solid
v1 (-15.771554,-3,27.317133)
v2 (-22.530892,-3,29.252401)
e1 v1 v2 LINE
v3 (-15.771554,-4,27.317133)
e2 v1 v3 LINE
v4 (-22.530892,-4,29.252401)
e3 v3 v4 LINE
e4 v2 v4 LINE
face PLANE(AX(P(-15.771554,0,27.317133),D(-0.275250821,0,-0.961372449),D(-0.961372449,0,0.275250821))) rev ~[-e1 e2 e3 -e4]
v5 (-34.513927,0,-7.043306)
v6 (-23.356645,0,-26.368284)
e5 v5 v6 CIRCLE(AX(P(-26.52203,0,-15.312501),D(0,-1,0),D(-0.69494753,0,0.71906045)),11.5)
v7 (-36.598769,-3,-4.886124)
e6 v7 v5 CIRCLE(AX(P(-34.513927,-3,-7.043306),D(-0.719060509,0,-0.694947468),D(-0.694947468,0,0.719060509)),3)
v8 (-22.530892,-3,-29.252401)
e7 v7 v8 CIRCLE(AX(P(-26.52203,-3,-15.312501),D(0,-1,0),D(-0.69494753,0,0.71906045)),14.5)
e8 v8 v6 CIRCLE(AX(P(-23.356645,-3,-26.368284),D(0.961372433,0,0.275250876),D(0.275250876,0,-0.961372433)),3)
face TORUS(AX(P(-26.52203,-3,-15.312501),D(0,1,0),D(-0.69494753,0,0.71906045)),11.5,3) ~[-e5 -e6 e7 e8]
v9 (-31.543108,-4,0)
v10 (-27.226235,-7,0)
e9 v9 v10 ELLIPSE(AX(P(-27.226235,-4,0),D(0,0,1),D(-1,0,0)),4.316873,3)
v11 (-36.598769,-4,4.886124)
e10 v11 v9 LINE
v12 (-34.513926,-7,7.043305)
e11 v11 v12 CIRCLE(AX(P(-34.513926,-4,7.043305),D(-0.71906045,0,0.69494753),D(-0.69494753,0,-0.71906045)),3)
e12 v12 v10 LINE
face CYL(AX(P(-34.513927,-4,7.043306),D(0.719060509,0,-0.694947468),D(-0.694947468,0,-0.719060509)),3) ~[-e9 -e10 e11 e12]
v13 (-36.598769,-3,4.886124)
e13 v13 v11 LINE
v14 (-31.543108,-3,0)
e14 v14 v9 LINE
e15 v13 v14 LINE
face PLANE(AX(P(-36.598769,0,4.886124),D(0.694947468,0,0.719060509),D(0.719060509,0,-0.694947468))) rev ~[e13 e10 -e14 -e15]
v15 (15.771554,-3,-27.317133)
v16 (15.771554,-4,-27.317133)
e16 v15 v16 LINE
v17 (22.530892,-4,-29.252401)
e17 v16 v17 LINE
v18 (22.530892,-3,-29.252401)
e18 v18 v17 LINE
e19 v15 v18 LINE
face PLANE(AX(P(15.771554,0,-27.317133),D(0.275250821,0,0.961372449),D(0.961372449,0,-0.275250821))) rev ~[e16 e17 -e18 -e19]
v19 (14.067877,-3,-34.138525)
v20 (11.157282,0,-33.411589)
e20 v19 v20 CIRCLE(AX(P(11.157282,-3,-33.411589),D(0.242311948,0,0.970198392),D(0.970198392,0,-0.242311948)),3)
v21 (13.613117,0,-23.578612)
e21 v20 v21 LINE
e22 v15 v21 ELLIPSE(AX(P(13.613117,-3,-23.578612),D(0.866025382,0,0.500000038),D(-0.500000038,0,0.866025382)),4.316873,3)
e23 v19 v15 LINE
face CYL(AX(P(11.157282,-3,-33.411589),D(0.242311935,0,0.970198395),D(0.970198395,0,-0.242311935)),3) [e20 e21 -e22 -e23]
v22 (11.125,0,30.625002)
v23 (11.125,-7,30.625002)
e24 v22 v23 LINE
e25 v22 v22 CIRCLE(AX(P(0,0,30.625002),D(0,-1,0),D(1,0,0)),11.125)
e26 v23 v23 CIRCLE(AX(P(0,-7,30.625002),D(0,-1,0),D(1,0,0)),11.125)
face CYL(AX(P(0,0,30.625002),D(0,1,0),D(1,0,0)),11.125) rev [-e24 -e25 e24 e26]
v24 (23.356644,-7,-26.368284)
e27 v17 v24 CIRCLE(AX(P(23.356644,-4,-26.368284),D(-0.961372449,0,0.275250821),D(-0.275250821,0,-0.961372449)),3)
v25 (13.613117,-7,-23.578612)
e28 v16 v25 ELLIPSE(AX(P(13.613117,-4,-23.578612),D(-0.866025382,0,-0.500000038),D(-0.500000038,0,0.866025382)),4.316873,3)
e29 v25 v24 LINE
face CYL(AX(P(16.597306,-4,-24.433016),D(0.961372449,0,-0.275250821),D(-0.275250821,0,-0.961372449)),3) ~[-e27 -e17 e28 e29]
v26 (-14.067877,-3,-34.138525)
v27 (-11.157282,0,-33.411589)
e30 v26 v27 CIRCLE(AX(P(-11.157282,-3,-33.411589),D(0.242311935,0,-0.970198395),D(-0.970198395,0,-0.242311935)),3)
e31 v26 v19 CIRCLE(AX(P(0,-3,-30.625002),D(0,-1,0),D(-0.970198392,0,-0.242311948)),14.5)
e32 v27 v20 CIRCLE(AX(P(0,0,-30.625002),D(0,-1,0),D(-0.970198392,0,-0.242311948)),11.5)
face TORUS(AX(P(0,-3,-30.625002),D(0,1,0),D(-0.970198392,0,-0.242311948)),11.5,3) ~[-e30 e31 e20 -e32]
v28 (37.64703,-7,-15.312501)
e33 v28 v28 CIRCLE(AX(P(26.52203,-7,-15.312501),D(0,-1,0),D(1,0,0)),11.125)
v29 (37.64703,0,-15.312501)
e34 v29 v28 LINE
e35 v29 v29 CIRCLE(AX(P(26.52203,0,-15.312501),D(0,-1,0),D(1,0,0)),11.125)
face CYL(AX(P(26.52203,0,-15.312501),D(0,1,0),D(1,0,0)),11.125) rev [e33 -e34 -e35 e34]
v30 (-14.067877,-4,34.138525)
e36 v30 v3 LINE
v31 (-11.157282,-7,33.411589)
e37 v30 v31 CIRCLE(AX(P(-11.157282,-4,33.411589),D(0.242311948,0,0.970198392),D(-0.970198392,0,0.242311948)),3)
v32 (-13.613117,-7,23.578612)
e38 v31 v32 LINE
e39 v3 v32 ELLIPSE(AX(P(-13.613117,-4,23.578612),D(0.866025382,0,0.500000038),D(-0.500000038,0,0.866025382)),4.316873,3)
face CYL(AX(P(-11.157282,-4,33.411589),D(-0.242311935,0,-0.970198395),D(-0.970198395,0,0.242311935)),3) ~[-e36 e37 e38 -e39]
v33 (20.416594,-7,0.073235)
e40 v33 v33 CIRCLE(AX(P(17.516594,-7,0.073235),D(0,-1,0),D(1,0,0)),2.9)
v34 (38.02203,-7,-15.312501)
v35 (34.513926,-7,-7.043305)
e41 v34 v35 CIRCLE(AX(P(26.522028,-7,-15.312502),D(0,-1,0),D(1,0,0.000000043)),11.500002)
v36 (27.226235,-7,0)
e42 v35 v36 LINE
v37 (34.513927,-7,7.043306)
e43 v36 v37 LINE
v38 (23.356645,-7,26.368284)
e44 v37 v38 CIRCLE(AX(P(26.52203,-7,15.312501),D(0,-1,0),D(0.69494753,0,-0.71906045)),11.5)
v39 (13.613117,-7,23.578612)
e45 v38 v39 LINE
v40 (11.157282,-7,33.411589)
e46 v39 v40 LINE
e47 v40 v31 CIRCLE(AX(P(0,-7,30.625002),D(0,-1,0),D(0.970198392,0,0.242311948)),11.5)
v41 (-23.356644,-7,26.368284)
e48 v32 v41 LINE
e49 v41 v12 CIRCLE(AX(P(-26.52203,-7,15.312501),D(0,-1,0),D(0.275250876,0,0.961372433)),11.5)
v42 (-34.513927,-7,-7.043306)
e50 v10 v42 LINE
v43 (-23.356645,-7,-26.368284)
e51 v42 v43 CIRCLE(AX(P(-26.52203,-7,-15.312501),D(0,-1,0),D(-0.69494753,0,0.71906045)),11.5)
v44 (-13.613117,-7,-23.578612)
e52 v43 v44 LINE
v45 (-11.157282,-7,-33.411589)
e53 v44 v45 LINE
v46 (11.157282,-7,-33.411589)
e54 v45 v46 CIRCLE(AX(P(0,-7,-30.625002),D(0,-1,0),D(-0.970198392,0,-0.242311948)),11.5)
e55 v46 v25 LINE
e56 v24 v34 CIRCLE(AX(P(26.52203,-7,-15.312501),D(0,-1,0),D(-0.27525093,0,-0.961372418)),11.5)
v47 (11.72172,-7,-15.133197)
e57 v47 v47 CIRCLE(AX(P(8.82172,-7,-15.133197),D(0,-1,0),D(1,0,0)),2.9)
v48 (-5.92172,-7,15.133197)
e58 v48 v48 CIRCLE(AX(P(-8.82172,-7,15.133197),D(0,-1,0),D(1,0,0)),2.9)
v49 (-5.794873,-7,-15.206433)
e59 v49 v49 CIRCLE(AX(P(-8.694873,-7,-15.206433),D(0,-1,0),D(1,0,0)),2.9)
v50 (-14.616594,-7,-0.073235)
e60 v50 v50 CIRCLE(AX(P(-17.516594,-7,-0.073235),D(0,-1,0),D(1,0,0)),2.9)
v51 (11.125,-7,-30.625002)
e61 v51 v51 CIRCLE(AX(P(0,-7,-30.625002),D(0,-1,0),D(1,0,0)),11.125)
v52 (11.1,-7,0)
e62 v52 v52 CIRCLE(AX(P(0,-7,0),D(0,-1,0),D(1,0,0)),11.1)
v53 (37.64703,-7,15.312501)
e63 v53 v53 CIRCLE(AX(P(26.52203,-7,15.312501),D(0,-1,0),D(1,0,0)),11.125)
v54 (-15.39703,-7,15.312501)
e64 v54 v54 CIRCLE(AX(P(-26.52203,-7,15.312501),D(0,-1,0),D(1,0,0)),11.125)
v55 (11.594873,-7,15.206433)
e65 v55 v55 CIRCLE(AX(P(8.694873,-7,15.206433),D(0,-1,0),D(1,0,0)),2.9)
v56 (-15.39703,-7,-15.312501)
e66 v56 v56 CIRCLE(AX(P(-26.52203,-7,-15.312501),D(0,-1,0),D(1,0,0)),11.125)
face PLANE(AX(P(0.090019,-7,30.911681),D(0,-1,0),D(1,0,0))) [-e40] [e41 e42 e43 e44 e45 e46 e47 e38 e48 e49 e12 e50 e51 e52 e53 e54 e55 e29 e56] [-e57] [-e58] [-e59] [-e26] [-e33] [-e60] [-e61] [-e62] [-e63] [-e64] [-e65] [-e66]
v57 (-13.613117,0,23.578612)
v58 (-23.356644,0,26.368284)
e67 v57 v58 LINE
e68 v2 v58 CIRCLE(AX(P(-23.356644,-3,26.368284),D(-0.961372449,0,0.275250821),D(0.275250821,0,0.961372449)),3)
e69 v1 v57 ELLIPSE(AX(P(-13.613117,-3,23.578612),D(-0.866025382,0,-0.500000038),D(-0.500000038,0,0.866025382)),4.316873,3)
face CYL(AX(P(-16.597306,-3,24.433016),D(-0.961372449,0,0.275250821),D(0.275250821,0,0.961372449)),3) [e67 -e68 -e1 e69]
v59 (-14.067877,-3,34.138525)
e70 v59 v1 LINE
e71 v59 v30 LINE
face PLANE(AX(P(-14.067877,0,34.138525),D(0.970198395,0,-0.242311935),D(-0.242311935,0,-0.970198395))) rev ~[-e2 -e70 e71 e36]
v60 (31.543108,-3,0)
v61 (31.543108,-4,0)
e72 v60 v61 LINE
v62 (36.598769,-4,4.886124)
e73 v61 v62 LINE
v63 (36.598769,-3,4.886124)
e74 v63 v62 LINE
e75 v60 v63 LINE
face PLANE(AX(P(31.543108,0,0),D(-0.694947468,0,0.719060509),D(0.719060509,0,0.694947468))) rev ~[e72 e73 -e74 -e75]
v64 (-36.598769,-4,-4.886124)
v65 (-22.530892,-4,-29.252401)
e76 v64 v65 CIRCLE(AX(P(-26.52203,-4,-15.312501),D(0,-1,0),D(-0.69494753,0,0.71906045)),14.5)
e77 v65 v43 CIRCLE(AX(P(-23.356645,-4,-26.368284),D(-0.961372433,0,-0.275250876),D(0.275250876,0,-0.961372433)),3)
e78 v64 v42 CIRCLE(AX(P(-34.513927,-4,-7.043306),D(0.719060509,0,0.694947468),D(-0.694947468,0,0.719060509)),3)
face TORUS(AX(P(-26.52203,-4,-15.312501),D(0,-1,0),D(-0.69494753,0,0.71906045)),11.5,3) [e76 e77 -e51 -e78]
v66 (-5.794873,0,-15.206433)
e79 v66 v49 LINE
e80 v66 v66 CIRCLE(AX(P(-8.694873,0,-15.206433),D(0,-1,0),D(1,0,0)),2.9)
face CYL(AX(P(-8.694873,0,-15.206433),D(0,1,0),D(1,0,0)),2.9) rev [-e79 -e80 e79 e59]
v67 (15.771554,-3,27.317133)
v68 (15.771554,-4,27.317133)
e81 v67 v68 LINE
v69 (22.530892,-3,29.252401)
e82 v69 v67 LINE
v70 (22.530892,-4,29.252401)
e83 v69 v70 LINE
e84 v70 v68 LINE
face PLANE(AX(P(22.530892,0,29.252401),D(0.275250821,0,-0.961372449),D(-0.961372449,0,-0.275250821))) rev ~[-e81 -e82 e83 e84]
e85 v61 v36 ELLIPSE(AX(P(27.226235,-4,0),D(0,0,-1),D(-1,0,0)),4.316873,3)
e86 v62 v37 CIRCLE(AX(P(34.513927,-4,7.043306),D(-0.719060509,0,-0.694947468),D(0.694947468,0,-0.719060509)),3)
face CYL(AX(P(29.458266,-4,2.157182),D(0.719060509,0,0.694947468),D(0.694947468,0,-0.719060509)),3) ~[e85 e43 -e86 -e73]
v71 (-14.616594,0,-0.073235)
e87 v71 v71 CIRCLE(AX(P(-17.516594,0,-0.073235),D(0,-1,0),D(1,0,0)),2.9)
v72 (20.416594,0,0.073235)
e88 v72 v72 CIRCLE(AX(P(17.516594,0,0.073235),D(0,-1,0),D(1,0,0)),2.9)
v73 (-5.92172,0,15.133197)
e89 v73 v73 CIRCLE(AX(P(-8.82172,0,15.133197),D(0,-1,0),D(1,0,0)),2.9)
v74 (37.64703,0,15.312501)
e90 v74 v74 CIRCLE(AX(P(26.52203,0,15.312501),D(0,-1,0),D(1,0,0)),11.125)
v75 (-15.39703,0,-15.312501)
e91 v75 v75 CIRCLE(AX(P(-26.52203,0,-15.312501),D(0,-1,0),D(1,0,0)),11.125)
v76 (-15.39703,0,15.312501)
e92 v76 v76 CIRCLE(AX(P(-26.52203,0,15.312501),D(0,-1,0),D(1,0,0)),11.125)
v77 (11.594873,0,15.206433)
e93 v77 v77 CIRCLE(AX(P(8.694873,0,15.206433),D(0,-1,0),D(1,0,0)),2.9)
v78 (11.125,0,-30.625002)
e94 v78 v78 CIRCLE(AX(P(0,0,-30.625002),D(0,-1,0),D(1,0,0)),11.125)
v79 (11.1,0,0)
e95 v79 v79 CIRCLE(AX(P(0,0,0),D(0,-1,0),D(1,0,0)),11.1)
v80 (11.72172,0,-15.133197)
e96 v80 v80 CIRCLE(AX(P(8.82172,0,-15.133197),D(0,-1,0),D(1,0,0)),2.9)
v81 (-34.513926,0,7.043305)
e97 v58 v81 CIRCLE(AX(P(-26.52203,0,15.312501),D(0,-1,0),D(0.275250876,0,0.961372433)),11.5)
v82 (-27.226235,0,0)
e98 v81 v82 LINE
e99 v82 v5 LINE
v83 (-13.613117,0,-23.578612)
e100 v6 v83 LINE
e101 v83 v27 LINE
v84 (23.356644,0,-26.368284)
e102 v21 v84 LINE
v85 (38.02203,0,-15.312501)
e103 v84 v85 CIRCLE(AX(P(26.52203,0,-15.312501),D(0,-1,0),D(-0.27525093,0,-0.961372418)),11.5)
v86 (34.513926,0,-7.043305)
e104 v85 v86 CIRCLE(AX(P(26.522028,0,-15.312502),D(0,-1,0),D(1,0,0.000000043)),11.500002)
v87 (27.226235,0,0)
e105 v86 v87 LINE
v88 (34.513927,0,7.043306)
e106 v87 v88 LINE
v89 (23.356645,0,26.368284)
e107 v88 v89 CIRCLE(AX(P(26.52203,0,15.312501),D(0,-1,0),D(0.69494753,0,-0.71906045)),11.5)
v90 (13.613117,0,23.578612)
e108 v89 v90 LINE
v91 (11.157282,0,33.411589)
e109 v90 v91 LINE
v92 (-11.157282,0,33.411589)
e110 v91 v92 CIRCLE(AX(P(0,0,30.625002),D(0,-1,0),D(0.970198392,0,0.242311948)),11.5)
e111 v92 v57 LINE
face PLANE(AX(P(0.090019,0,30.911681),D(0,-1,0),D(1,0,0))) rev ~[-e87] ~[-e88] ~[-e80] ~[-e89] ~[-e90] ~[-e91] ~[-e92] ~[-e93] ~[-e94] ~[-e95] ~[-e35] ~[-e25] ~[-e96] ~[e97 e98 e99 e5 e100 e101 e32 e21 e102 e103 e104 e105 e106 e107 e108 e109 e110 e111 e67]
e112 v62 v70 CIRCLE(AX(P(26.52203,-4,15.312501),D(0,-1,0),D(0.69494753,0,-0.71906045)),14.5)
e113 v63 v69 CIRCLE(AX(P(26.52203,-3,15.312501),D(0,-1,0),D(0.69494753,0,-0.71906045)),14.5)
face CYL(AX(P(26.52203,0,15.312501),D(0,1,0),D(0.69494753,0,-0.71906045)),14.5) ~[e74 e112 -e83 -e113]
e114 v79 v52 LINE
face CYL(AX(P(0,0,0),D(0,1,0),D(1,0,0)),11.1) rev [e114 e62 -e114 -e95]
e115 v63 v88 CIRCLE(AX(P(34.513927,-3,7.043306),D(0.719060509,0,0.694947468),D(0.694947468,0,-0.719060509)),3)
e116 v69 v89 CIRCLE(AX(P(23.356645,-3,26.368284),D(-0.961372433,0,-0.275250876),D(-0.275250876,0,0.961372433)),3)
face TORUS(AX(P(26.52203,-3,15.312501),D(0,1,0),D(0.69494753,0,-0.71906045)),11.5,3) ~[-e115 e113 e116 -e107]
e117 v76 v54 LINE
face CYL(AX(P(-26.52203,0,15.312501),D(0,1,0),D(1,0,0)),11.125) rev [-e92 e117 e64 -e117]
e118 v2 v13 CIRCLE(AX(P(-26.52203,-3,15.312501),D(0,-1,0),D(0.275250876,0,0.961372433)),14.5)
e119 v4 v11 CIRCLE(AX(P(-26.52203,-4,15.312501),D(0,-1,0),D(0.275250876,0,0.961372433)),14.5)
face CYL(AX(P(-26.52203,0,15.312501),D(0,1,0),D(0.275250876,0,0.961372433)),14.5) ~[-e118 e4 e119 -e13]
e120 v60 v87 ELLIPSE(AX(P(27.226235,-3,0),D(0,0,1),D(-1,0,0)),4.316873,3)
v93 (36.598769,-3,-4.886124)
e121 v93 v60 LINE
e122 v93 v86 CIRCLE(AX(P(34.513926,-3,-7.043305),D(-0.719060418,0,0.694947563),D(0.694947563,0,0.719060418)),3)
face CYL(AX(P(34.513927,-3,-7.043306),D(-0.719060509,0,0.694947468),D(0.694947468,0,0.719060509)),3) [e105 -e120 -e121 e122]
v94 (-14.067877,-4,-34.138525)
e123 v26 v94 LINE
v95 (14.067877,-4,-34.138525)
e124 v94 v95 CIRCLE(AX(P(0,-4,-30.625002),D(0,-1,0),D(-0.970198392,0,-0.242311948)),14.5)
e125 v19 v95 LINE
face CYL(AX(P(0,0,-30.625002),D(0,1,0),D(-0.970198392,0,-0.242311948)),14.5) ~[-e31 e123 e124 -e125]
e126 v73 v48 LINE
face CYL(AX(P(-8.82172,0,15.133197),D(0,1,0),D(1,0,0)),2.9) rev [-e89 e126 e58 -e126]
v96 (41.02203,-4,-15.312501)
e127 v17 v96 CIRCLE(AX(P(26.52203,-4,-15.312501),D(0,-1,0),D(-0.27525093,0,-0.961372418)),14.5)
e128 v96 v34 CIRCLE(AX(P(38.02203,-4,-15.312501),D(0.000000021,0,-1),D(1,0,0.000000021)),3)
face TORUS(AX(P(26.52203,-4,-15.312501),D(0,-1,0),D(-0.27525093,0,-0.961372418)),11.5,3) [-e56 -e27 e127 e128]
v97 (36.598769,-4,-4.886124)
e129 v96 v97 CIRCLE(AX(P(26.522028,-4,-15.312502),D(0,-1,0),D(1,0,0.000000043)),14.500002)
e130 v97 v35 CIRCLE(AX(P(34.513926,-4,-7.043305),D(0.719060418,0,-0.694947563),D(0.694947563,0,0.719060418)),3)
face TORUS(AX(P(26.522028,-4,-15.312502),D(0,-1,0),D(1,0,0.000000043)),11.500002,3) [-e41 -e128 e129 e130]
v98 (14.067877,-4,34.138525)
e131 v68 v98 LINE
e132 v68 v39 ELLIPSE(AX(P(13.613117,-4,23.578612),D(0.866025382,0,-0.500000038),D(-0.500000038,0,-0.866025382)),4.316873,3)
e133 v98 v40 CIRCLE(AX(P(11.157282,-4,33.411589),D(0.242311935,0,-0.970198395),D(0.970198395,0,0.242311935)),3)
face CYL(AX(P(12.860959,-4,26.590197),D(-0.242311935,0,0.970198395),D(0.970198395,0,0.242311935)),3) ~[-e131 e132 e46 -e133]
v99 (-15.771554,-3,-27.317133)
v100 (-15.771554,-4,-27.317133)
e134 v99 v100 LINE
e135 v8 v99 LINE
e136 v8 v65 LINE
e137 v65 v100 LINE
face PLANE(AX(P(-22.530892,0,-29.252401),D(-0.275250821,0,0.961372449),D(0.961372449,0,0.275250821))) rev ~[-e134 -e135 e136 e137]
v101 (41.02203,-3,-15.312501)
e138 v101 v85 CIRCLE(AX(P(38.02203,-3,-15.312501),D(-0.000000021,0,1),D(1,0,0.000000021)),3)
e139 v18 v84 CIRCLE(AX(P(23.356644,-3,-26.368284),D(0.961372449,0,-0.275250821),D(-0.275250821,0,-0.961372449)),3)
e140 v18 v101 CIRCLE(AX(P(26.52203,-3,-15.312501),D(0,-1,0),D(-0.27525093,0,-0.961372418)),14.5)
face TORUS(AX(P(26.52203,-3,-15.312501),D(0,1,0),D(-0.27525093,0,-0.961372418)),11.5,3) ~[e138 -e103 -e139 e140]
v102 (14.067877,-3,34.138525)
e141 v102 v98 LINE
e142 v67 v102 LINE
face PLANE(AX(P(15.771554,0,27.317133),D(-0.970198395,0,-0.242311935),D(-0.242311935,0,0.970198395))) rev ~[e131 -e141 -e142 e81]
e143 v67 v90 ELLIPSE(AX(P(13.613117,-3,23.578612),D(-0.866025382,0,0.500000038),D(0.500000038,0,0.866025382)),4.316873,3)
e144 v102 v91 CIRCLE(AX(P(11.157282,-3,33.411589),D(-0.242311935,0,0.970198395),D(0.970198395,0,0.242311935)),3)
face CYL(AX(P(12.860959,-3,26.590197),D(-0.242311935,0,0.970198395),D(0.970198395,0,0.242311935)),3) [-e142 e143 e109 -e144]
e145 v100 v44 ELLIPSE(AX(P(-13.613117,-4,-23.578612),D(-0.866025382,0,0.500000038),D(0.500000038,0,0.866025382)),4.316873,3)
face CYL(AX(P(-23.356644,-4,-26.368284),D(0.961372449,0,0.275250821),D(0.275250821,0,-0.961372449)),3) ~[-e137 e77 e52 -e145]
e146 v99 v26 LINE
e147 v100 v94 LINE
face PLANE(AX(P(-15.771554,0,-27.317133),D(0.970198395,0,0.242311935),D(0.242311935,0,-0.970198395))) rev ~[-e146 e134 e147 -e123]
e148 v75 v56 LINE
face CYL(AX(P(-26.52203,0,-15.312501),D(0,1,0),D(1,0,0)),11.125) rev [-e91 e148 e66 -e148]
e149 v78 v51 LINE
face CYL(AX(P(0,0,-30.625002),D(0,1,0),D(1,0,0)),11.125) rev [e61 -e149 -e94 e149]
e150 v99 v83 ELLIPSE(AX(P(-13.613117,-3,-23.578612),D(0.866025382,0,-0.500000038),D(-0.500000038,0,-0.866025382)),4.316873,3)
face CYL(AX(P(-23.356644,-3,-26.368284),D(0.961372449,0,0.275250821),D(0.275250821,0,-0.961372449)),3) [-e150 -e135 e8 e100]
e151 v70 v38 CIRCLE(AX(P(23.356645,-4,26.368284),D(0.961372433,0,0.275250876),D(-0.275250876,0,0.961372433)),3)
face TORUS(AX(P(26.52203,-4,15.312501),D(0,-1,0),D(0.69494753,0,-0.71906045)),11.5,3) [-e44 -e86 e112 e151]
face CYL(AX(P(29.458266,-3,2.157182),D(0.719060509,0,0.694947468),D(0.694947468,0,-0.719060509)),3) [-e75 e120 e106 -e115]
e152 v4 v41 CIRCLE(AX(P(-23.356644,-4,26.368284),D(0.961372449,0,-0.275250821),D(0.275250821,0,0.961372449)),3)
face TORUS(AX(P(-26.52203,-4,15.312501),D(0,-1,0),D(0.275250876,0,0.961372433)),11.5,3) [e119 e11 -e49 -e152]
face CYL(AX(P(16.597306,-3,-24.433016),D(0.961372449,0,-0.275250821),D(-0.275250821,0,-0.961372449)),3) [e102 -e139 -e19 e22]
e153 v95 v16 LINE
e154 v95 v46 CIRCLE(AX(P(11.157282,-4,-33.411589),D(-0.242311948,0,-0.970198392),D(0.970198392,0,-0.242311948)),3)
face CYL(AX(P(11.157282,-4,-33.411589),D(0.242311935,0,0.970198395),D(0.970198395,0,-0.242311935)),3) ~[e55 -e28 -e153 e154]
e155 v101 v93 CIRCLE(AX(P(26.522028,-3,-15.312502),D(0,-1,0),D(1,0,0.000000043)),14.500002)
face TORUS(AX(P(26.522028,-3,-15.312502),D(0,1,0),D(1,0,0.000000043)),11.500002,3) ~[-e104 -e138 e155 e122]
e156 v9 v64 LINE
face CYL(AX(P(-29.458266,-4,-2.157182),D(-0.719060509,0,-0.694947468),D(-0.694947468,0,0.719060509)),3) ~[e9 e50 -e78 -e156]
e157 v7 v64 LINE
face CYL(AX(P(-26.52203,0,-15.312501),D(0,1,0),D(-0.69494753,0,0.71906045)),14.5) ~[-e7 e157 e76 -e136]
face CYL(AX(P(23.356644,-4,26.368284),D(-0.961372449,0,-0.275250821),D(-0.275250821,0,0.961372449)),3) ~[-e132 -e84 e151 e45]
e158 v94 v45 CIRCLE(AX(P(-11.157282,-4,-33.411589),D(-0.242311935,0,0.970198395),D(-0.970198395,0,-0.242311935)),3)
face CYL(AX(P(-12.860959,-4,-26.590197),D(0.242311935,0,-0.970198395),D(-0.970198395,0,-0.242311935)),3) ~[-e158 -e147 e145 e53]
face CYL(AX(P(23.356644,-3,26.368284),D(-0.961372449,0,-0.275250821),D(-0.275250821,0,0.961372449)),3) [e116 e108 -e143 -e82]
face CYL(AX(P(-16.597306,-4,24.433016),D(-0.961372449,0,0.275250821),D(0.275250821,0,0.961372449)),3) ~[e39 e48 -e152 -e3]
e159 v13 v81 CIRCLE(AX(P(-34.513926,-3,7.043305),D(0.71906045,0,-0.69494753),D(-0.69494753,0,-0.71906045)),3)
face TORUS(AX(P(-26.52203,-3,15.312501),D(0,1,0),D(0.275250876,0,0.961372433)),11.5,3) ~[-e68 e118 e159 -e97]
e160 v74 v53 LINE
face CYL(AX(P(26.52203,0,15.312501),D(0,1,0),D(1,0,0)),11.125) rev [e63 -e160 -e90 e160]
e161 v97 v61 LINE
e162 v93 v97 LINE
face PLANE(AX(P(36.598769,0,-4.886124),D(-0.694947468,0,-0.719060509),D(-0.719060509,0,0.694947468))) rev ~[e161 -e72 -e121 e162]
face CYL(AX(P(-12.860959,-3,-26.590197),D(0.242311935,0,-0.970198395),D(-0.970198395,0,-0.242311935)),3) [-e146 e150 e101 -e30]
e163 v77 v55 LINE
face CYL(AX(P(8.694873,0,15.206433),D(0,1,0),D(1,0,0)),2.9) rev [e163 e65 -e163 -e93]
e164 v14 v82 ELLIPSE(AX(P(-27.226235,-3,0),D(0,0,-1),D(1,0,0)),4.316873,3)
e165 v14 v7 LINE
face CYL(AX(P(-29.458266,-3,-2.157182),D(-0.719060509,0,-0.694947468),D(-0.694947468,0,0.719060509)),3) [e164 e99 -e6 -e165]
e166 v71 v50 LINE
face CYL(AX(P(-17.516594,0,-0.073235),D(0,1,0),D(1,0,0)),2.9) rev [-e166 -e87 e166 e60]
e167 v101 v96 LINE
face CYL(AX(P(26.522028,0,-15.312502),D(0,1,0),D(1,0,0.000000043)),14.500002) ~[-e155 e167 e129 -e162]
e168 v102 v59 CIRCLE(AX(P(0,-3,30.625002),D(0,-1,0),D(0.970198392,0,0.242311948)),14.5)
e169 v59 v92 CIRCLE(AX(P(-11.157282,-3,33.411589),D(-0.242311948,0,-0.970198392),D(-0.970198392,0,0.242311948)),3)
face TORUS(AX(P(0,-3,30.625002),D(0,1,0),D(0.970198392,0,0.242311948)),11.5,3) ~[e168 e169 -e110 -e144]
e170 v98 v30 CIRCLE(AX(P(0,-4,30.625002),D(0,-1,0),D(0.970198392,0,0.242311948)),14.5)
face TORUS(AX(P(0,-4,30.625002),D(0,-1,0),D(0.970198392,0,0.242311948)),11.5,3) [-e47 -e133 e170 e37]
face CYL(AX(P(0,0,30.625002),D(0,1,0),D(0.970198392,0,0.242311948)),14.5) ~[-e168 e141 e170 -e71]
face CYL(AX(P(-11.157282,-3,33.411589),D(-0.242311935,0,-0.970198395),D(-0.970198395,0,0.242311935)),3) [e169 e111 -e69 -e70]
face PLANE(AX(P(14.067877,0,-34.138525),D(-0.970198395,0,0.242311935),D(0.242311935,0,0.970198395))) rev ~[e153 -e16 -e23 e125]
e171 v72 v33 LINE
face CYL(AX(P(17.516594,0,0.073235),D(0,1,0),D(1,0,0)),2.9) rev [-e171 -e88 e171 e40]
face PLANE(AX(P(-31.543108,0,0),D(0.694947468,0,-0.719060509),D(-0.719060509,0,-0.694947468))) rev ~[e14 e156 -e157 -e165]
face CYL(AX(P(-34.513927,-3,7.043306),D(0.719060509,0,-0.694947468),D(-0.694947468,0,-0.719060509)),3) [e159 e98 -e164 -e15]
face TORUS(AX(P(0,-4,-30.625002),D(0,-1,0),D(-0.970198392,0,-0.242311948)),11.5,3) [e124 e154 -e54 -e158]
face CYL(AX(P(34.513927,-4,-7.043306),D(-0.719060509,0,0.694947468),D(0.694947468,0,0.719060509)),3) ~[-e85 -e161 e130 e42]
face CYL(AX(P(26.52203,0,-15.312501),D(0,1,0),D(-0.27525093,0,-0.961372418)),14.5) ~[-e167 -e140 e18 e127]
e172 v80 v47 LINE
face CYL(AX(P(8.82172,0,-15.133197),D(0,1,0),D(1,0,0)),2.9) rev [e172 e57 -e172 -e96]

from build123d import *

# Parameters (mm, degrees)
F0_R     = 11.125
F0_R_2   = 2.9
F0_R_3   = 11.1
F1_DEPTH = 7
F2_R     = 3


with BuildPart() as f1:
    # F0 (on Front) → F1 (new body)
    with BuildSketch(Plane.XZ):
        with BuildLine():
            ThreePointArc((-14.067877, 34.138525), (-1.769998, 16.233439), (14.5, 30.625002))
            ThreePointArc((14.5, 30.625002), (14.391564, 32.395001), (14.067877, 34.138525))
            ThreePointArc((14.067877, 34.138525), (0, 45.125002), (-14.067877, 34.138525))
        make_face()
        with Locations((0, 30.625002)):
            Circle(F0_R, mode=Mode.SUBTRACT)
        with BuildLine():
            ThreePointArc((14.067877, 34.138525), (14.391564, 32.395001), (14.5, 30.625002))
            ThreePointArc((14.5, 30.625002), (-1.769998, 16.233439), (-14.067877, 34.138525))
            Line((-14.067877, 34.138525), (-15.771554, 27.317133))
            Line((-15.771554, 27.317133), (-22.530892, 29.252401))
            ThreePointArc((-22.530892, 29.252401), (-14.943569, 24.041146), (-12.02203, 15.312501))
            ThreePointArc((-12.02203, 15.312501), (-20.859112, 1.964042), (-36.598769, 4.886124))
            Line((-36.598769, 4.886124), (-31.543108, 0))
            Line((-31.543108, 0), (-36.598769, -4.886124))
            ThreePointArc((-36.598769, -4.886124), (-20.859112, -1.964042), (-12.02203, -15.312501))
            ThreePointArc((-12.02203, -15.312501), (-14.943569, -24.041146), (-22.530892, -29.252401))
            Line((-22.530892, -29.252401), (-15.771554, -27.317133))
            Line((-15.771554, -27.317133), (-14.067877, -34.138525))
            ThreePointArc((-14.067877, -34.138525), (0, -45.125002), (14.067877, -34.138525))
            Line((14.067877, -34.138525), (15.771554, -27.317133))
            Line((15.771554, -27.317133), (22.530892, -29.252401))
            ThreePointArc((22.530892, -29.252401), (13.964662, -8.062501), (36.598769, -4.886124))
            Line((36.598769, -4.886124), (31.543108, 0))
            Line((31.543108, 0), (36.598769, 4.886124))
            ThreePointArc((36.598769, 4.886124), (39.079398, 22.562501), (22.530892, 29.252401))
            Line((22.530892, 29.252401), (15.771554, 27.317133))
            Line((15.771554, 27.317133), (14.067877, 34.138525))
        make_face()
        with Locations((-8.694873, -15.206433)):
            Circle(F0_R_2, mode=Mode.SUBTRACT)
        with Locations((-17.516594, -0.073235)):
            Circle(F0_R_2, mode=Mode.SUBTRACT)
        with Locations((0, -30.625002)):
            Circle(F0_R, mode=Mode.SUBTRACT)
        with Locations((8.82172, -15.133197)):
            Circle(F0_R_2, mode=Mode.SUBTRACT)
        with BuildLine():
            ThreePointArc((-13.999674, -0.095592), (-0.047796, 13.999918), (14, 0))
            ThreePointArc((14, 0), (12.124356, -7), (7, -12.124356))
            ThreePointArc((7, -12.124356), (-6.958566, -12.148183), (-13.999674, -0.095592))
        make_face(mode=Mode.SUBTRACT)
        with Locations((-8.82172, 15.133197)):
            Circle(F0_R_2, mode=Mode.SUBTRACT)
        with Locations((17.516594, 0.073235)):
            Circle(F0_R_2, mode=Mode.SUBTRACT)
        with Locations((8.694873, 15.206433)):
            Circle(F0_R_2, mode=Mode.SUBTRACT)
        with Locations((26.52203, 15.312501)):
            Circle(F0_R, mode=Mode.SUBTRACT)
        with BuildLine():
            ThreePointArc((-12.02203, 15.312501), (-14.943569, 24.041146), (-22.530892, 29.252401))
            ThreePointArc((-22.530892, 29.252401), (-39.079398, 22.562501), (-36.598769, 4.886124))
            ThreePointArc((-36.598769, 4.886124), (-20.859112, 1.964042), (-12.02203, 15.312501))
        make_face()
        with Locations((-26.52203, 15.312501)):
            Circle(F0_R, mode=Mode.SUBTRACT)
        with BuildLine():
            ThreePointArc((41.02203, -15.312501), (39.870489, -9.649583), (36.598769, -4.886124))
            ThreePointArc((36.598769, -4.886124), (13.964662, -8.062501), (22.530892, -29.252401))
            ThreePointArc((22.530892, -29.252401), (35.250675, -26.890962), (41.02203, -15.312501))
        make_face()
        with Locations((26.52203, -15.312501)):
            Circle(F0_R, mode=Mode.SUBTRACT)
        with BuildLine():
            ThreePointArc((-12.02203, -15.312501), (-20.859112, -1.964042), (-36.598769, -4.886124))
            ThreePointArc((-36.598769, -4.886124), (-39.079398, -22.562501), (-22.530892, -29.252401))
            ThreePointArc((-22.530892, -29.252401), (-14.943569, -24.041146), (-12.02203, -15.312501))
        make_face()
        with Locations((-26.52203, -15.312501)):
            Circle(F0_R, mode=Mode.SUBTRACT)
        with BuildLine():
            ThreePointArc((7, -12.124356), (12.124356, -7), (14, 0))
            ThreePointArc((14, 0), (-0.047796, 13.999918), (-13.999674, -0.095592))
            ThreePointArc((-13.999674, -0.095592), (-6.958566, -12.148183), (7, -12.124356))
        make_face()
        Circle(F0_R_3, mode=Mode.SUBTRACT)
    extrude(amount=F1_DEPTH)

    # F2
    f2_edges = [f1.edges().sort_by_distance(p)[0] for p in [
        (-39.079398, -7, -22.562501),
        (-39.079398, -7, 22.562501),
        (0, -7, -45.125002),
        (39.079398, -7, -22.562501),
        (39.079398, -7, 22.562501),
        (0, -7, 45.125002),
        (0, 0, -45.125002),
        (39.079398, 0, -22.562501),
        (-39.079398, 0, 22.562501),
        (0, 0, 45.125002),
        (-39.079398, 0, -22.562501),
        (39.079398, 0, 22.562501),
    ]]
    fillet(f2_edges, radius=F2_R)


solid = f1.part
